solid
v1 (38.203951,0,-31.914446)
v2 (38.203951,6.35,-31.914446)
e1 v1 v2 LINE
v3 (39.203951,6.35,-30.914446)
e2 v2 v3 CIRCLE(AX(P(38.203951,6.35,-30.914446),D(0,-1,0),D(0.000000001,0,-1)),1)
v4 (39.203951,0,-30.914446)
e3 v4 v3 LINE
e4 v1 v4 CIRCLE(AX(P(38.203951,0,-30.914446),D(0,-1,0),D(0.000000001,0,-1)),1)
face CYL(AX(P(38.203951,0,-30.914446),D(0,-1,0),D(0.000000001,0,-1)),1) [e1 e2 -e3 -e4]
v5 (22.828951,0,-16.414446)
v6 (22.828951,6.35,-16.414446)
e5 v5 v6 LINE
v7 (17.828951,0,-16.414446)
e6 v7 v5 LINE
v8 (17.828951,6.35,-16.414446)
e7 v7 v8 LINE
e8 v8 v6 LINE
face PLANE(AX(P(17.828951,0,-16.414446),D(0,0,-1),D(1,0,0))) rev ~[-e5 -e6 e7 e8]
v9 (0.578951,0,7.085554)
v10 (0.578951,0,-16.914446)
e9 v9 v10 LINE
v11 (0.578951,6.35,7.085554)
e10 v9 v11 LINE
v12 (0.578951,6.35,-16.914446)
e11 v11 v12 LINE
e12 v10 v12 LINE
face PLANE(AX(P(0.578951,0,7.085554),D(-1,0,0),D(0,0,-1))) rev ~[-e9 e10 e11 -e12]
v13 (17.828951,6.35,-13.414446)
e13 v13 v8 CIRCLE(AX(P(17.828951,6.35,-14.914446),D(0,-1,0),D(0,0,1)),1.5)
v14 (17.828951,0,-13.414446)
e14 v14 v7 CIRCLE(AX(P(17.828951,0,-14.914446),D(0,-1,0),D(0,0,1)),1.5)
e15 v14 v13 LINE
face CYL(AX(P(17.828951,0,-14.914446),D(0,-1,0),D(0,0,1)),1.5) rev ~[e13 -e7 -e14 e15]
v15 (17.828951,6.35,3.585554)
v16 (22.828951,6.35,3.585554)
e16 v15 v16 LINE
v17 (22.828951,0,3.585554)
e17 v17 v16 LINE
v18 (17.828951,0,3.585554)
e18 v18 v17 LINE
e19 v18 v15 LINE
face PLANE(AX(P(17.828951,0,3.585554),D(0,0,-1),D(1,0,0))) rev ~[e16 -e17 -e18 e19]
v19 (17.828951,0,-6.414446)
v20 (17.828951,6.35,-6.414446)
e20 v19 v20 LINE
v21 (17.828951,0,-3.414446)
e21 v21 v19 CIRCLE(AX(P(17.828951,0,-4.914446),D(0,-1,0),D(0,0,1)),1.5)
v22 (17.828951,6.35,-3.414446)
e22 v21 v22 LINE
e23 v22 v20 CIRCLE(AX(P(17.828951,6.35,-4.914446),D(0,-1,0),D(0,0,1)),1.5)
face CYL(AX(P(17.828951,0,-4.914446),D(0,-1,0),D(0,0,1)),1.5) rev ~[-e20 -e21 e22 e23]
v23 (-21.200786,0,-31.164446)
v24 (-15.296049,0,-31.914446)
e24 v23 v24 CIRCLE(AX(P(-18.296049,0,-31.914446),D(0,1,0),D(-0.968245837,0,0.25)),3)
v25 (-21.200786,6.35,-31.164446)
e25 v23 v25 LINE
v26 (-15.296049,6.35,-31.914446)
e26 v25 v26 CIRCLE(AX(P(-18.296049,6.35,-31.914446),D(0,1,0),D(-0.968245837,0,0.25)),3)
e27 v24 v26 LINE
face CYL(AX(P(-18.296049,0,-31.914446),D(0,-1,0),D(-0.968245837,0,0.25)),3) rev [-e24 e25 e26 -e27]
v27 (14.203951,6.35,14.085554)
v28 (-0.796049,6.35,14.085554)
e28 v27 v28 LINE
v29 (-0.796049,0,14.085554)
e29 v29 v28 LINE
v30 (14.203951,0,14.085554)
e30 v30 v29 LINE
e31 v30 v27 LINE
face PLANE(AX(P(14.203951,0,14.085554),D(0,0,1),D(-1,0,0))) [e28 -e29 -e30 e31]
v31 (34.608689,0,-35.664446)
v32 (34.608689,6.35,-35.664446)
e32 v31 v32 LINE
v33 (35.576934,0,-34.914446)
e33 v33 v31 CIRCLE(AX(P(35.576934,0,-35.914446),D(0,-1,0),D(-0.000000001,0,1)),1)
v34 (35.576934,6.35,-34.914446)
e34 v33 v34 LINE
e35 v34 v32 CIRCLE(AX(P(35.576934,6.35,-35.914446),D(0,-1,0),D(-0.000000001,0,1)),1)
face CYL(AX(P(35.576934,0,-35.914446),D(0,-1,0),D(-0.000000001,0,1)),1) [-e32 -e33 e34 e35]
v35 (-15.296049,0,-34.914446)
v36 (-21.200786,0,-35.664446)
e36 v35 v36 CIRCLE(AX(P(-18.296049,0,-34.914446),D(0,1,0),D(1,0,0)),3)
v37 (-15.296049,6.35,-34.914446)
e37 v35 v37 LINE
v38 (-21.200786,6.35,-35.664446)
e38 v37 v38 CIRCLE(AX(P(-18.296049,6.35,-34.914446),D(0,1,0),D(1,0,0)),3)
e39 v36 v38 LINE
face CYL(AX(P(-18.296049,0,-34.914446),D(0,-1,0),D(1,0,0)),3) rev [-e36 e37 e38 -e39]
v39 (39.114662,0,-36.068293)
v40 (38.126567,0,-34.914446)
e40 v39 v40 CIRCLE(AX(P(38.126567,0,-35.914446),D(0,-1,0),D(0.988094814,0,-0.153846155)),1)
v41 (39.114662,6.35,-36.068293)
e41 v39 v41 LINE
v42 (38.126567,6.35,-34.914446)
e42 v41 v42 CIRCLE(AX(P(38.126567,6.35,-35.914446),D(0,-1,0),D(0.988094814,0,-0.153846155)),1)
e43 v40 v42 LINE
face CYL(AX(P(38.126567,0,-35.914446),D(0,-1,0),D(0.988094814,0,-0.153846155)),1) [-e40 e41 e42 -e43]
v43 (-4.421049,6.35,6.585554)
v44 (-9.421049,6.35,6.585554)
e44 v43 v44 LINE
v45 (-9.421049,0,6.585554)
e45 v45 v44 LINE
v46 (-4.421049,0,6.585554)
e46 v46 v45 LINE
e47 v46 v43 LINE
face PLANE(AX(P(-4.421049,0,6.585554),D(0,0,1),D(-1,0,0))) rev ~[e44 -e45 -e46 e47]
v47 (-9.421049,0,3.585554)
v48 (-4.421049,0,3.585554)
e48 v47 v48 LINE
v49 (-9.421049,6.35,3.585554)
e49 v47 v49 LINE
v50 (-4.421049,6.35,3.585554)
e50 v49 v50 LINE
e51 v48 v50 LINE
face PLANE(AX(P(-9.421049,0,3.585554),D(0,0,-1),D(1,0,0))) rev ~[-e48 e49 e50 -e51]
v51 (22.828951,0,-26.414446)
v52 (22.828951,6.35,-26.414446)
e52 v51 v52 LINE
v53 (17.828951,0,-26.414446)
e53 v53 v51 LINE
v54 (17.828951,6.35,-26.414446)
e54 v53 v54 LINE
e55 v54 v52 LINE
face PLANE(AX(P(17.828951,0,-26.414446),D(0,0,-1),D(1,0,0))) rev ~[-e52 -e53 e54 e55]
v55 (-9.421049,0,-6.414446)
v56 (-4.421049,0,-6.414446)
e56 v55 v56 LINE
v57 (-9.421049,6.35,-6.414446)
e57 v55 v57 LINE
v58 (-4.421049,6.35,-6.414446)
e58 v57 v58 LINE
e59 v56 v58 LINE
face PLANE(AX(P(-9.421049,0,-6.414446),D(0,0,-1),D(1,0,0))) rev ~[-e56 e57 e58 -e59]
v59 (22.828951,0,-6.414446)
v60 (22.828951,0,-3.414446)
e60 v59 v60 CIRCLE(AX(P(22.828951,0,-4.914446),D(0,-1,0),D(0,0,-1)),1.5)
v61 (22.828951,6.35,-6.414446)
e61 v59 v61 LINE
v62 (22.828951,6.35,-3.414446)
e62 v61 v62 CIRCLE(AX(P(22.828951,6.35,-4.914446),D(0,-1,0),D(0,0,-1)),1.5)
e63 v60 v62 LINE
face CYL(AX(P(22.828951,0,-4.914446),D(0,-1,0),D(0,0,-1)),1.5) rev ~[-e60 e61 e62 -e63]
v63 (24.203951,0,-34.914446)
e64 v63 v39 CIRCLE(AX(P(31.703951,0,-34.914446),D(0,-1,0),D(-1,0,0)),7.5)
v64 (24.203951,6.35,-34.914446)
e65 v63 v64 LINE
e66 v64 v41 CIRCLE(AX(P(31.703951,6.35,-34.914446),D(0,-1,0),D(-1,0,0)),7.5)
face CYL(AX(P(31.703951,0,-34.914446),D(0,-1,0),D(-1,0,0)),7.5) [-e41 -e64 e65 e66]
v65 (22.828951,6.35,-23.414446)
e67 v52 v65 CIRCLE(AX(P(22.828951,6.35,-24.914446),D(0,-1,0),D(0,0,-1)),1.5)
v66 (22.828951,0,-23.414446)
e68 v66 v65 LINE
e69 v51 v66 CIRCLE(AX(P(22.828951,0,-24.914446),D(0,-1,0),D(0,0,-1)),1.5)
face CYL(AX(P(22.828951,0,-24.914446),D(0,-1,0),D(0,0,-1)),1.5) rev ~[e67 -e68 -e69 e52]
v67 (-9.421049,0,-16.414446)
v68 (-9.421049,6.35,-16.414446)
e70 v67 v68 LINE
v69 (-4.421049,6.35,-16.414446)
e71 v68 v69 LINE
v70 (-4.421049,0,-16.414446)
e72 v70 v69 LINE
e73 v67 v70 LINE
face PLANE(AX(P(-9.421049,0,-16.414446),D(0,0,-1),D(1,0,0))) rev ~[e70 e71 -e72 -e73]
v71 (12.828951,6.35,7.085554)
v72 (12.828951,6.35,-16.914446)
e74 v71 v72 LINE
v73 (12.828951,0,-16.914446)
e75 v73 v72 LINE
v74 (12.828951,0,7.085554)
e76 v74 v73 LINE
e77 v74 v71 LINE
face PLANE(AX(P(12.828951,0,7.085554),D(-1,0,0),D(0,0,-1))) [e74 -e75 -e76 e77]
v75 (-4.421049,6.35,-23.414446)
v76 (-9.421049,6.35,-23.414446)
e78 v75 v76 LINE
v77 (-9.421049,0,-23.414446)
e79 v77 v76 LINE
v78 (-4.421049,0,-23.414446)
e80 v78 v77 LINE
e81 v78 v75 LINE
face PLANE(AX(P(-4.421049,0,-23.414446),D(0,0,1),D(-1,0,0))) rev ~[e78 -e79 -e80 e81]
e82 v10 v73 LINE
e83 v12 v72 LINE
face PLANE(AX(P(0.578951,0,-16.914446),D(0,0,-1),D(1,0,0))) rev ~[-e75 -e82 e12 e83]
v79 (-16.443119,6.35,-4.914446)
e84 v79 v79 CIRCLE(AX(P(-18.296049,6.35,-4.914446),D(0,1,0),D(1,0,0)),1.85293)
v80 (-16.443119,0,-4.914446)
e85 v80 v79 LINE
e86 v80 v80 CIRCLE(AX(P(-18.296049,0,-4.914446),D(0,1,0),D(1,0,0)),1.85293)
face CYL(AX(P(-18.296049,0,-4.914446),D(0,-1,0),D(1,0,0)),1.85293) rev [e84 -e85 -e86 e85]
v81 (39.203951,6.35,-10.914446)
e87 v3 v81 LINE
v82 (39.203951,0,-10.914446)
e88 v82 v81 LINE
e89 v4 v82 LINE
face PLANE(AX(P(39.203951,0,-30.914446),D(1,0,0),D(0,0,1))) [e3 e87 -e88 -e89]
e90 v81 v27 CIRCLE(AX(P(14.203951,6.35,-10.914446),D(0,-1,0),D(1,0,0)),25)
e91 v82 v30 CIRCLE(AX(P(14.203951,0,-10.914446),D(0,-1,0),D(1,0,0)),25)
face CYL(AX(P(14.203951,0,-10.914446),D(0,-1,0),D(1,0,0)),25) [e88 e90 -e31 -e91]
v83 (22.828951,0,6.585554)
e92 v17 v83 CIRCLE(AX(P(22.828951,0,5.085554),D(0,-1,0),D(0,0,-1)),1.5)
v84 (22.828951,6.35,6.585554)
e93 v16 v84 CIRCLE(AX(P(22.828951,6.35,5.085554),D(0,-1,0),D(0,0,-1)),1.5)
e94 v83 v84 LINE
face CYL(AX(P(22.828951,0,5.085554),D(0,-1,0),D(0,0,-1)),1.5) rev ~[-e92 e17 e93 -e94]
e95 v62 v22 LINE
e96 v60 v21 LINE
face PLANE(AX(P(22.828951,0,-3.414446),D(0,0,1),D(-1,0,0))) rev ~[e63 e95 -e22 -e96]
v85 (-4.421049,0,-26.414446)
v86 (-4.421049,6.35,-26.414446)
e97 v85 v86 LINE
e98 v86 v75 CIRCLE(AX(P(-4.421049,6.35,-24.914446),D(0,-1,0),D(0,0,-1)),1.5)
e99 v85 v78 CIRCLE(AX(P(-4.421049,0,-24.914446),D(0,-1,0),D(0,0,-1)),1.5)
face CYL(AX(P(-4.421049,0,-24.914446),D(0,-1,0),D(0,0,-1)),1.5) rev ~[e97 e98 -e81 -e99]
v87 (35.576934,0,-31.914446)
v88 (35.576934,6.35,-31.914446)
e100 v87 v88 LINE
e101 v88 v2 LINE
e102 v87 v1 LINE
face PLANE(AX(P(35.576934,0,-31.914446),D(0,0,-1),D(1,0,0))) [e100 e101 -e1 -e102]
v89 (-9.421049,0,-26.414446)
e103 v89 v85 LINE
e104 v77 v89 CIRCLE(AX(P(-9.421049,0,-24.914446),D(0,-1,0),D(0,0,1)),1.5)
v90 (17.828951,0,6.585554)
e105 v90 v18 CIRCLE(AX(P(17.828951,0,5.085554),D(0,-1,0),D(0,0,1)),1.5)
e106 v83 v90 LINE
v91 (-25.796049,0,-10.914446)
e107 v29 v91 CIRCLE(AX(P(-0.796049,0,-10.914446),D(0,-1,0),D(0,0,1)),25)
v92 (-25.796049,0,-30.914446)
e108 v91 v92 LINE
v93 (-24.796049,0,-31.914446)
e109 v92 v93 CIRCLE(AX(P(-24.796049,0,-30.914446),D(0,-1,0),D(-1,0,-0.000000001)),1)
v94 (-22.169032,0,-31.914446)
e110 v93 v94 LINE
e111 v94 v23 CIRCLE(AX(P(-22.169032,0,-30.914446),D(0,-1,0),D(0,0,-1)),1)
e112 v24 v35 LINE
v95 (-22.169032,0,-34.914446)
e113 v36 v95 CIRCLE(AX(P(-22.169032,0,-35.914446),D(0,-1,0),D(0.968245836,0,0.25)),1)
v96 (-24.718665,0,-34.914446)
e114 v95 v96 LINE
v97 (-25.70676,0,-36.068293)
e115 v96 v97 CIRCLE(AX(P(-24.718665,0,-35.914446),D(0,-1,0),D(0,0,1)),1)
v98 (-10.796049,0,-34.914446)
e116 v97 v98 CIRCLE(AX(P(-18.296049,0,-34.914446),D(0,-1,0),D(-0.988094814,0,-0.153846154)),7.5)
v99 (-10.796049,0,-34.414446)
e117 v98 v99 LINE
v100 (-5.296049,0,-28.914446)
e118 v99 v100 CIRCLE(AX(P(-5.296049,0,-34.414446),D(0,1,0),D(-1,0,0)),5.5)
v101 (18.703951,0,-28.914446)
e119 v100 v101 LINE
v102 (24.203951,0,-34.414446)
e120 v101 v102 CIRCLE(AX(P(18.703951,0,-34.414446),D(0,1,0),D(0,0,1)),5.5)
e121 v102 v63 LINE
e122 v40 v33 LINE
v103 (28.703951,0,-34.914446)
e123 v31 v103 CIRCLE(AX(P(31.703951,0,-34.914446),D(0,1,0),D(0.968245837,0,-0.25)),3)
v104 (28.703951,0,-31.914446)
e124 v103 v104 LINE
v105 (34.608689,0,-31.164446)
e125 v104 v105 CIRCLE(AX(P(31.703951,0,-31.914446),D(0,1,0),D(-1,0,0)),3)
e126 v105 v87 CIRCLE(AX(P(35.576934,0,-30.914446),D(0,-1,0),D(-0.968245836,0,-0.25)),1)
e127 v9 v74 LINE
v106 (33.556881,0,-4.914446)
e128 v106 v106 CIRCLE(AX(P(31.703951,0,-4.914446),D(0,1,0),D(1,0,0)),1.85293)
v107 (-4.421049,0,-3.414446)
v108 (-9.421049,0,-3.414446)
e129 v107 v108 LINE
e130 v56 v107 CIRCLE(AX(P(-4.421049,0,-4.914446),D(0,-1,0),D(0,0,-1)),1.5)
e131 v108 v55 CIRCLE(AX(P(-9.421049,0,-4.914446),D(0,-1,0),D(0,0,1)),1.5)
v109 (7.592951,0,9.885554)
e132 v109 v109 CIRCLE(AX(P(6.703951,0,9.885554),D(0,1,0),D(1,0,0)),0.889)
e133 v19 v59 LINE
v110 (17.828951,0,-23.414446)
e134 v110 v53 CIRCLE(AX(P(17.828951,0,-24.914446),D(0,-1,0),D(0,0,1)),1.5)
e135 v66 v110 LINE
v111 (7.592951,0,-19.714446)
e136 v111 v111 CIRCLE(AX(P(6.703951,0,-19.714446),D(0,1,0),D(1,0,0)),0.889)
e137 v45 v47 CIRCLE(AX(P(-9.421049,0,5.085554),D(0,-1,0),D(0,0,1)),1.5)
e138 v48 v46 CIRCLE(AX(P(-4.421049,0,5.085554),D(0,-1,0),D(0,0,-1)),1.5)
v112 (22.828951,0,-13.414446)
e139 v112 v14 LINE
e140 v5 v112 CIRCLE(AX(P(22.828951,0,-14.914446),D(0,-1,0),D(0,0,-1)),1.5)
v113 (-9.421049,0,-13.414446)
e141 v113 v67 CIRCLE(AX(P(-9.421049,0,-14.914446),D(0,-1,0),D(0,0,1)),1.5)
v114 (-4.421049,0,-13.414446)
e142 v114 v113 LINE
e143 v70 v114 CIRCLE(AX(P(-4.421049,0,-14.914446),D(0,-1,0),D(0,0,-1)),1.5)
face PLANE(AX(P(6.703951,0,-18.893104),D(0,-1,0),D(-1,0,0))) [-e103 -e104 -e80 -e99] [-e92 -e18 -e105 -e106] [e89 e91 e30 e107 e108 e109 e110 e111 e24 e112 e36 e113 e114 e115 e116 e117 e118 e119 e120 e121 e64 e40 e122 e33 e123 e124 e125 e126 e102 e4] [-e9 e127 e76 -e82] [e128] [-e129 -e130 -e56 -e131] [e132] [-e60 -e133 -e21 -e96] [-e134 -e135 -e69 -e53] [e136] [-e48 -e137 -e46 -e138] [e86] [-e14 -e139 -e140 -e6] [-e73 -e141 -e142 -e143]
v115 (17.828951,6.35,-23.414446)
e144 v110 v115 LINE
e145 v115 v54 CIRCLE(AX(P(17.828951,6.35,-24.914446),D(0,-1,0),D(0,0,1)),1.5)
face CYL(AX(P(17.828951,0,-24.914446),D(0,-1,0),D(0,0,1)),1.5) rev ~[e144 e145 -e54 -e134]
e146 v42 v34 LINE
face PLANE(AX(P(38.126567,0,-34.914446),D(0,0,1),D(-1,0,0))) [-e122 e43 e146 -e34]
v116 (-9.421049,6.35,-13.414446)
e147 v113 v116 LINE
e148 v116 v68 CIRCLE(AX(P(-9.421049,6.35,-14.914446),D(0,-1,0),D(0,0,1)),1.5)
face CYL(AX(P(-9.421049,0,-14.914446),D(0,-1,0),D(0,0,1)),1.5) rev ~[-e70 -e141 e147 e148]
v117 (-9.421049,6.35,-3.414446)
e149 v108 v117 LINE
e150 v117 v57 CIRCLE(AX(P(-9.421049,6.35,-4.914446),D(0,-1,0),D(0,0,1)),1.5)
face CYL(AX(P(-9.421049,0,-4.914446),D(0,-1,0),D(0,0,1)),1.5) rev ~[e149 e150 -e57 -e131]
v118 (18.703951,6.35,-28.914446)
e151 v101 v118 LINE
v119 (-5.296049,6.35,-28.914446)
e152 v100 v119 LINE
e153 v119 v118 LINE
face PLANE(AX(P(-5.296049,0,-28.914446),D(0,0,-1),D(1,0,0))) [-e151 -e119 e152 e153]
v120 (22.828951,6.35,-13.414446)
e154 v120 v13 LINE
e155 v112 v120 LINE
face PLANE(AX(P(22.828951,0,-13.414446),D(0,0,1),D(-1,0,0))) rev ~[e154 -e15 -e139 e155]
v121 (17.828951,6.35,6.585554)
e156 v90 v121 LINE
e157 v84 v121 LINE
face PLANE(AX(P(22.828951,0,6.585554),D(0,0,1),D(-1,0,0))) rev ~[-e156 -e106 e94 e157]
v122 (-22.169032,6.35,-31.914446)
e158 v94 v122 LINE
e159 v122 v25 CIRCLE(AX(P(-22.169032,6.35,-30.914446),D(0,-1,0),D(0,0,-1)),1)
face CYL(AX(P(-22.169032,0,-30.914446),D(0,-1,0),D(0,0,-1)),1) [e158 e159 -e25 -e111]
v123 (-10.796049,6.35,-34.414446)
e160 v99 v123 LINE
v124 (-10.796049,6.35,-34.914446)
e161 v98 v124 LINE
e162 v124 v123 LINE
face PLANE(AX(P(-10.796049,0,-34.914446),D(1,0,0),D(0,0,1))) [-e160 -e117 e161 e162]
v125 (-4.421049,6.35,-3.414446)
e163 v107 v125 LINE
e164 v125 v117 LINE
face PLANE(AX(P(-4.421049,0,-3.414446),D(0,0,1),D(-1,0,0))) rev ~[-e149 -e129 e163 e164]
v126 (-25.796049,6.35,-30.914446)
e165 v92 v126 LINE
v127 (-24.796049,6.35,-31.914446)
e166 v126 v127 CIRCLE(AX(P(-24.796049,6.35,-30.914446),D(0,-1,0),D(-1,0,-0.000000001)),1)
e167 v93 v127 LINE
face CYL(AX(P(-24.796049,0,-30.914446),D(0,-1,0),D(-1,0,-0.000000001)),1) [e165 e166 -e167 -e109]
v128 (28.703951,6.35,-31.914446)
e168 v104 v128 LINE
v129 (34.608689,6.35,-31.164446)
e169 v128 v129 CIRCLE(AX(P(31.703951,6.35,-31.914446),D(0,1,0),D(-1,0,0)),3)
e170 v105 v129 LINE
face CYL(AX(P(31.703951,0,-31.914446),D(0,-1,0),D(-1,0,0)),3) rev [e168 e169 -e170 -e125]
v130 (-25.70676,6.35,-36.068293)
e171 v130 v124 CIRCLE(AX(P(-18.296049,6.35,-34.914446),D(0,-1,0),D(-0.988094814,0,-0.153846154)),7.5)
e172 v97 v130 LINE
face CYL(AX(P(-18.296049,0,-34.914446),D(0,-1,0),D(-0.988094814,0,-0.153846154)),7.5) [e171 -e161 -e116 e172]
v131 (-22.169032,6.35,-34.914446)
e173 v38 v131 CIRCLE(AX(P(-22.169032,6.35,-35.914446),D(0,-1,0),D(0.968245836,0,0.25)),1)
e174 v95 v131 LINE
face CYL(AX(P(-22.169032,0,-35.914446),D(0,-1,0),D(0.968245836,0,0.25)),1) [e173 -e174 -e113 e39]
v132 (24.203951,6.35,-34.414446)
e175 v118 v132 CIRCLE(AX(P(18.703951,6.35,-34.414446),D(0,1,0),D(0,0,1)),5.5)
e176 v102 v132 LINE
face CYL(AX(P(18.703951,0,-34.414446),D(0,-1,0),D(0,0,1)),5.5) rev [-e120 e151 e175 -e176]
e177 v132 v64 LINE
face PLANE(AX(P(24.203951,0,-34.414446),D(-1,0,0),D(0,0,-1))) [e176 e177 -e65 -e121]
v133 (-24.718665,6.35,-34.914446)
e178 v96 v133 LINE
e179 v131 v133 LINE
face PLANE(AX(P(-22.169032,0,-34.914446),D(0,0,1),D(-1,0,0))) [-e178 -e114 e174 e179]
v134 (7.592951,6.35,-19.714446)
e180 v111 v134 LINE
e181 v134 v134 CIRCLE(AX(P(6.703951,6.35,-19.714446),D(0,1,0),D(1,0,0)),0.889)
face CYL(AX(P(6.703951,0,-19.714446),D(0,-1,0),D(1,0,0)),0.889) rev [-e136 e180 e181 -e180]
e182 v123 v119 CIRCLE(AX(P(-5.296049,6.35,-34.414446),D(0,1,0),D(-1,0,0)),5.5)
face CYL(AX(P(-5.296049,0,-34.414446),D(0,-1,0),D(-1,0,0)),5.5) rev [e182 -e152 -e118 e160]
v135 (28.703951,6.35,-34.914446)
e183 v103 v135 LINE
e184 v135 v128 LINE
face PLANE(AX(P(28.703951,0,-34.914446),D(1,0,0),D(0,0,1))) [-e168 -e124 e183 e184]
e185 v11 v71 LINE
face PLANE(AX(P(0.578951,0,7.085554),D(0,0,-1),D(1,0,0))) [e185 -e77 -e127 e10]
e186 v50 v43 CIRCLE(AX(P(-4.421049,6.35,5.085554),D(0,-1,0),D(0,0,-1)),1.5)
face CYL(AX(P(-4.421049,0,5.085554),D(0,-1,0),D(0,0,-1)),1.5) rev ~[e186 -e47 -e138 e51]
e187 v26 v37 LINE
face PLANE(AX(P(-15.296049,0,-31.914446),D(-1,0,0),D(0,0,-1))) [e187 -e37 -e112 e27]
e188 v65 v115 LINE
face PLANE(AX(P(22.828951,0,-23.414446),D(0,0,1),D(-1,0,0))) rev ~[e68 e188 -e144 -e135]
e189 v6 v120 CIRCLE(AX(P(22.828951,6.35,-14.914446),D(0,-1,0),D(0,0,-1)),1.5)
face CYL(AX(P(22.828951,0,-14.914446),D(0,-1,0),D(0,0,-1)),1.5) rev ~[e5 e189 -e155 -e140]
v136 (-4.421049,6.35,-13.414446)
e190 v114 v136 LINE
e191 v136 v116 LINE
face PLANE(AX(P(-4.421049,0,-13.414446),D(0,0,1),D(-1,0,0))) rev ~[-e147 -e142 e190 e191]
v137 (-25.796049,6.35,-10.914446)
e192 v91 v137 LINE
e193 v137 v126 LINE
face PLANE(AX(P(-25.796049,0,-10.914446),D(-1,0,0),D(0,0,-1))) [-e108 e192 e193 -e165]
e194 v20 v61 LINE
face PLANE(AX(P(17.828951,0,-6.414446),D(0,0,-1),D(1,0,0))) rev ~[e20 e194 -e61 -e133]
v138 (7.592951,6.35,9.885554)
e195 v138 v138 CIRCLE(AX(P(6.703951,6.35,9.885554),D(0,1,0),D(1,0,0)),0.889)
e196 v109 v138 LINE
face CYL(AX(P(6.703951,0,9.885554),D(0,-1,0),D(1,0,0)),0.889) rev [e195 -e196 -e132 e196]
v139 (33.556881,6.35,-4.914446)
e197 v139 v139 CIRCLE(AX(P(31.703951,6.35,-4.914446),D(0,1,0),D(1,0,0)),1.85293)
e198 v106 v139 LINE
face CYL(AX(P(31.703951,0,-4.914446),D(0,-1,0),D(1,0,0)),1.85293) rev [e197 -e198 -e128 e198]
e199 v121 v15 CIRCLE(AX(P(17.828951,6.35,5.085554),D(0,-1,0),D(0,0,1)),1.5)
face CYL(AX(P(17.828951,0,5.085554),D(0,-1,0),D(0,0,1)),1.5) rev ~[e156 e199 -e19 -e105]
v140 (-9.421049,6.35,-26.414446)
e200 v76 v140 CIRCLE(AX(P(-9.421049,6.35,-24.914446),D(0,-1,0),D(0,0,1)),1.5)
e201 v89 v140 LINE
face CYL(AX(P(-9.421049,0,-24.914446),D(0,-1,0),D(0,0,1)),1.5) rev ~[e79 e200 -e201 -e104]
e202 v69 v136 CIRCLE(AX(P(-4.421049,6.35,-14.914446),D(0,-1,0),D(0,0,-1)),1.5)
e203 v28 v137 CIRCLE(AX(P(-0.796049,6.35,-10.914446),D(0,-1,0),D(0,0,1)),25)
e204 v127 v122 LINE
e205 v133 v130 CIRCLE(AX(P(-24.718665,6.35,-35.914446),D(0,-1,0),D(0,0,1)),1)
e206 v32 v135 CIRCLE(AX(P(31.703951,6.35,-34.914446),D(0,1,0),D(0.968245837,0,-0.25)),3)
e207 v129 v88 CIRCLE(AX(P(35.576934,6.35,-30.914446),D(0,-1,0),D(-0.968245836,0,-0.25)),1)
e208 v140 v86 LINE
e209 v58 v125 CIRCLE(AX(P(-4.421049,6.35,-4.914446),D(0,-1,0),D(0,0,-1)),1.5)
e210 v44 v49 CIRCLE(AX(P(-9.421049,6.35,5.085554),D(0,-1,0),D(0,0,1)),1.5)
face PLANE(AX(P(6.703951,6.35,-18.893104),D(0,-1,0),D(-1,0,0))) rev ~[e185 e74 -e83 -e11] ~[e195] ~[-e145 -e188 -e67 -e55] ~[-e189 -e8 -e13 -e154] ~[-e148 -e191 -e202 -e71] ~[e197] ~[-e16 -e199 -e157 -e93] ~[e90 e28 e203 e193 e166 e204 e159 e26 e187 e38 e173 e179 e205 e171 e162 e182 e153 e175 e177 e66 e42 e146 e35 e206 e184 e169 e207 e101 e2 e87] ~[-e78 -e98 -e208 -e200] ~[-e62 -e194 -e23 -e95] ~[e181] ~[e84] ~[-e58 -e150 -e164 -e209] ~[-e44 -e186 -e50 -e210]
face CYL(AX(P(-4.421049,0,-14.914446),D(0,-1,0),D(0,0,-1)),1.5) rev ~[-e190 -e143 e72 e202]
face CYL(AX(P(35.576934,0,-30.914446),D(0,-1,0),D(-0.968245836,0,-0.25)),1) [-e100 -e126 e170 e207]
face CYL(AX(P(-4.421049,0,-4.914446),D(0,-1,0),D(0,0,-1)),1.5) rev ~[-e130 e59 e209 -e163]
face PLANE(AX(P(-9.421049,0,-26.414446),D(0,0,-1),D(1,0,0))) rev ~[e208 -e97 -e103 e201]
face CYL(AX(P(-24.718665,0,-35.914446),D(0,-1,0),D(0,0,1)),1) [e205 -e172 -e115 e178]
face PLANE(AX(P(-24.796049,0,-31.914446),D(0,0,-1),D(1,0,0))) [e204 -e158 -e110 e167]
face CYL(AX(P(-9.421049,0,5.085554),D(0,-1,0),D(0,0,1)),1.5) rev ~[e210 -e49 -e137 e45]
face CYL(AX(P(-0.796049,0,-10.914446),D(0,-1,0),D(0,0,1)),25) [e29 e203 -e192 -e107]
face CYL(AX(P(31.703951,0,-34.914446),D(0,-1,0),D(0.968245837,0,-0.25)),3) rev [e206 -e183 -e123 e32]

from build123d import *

# Parameters (mm, degrees)
SKETCH1_R           = 0.889
SKETCH1_R_2         = 1.85293
SKETCH1_W           = 12.25
SKETCH1_H           = 24
BOSS_EXTRUDE1_DEPTH = 6.35


with BuildPart() as part:
    # Sketch1 → Boss-Extrude1 (new body)
    with BuildSketch(Plane(origin=(0, 0, 0), x_dir=(1, 0, 0), z_dir=(0, 1, 0))):
        with BuildLine():
            Line((-25.79604899, 10.914446368), (-25.79604899, 28.914446368))
            Line((-25.79604899, 28.914446368), (-25.79604899, 30.914446368))
            ThreePointArc((-25.79604899, 30.914446368), (-25.503155771, 31.621553149), (-24.79604899, 31.914446368))
            Line((-24.79604899, 31.914446368), (-22.169032336, 31.914446368))
            ThreePointArc((-22.169032336, 31.914446368), (-21.5566599, 31.705015783), (-21.200786499, 31.164446368))
            ThreePointArc((-21.200786499, 31.164446368), (-17.918036112, 28.938357279), (-15.29604899, 31.914446368))
            Line((-15.29604899, 31.914446368), (-15.29604899, 34.914446368))
            ThreePointArc((-15.29604899, 34.914446368), (-17.918036112, 37.890535457), (-21.200786499, 35.664446368))
            ThreePointArc((-21.200786499, 35.664446368), (-21.5566599, 35.123876953), (-22.169032336, 34.914446368))
            Line((-22.169032336, 34.914446368), (-24.718665279, 34.914446368))
            ThreePointArc((-24.718665279, 34.914446368), (-25.478219804, 35.264002732), (-25.706760093, 36.068292522))
            ThreePointArc((-25.706760093, 36.068292522), (-17.717401115, 42.392090826), (-10.79604899, 34.914446368))
            Line((-10.79604899, 34.914446368), (-10.79604899, 34.414446368))
            ThreePointArc((-10.79604899, 34.414446368), (-9.185136286, 30.525359071), (-5.29604899, 28.914446368))
            Line((-5.29604899, 28.914446368), (18.70395101, 28.914446368))
            ThreePointArc((18.70395101, 28.914446368), (22.593038307, 30.525359071), (24.20395101, 34.414446368))
            Line((24.20395101, 34.414446368), (24.20395101, 34.914446368))
            ThreePointArc((24.20395101, 34.914446368), (31.125303135, 42.392090826), (39.114662113, 36.068292522))
            ThreePointArc((39.114662113, 36.068292522), (38.886121825, 35.264002732), (38.126567299, 34.914446368))
            Line((38.126567299, 34.914446368), (35.576934356, 34.914446368))
            ThreePointArc((35.576934356, 34.914446368), (34.964561921, 35.123876953), (34.60868852, 35.664446368))
            ThreePointArc((34.60868852, 35.664446368), (31.325938133, 37.890535457), (28.70395101, 34.914446368))
            Line((28.70395101, 34.914446368), (28.70395101, 31.914446368))
            ThreePointArc((28.70395101, 31.914446368), (31.325938133, 28.938357279), (34.60868852, 31.164446368))
            ThreePointArc((34.60868852, 31.164446368), (34.964561921, 31.705015783), (35.576934356, 31.914446368))
            Line((35.576934356, 31.914446368), (38.20395101, 31.914446368))
            ThreePointArc((38.20395101, 31.914446368), (38.911057791, 31.621553149), (39.20395101, 30.914446368))
            Line((39.20395101, 30.914446368), (39.20395101, 28.914446368))
            Line((39.20395101, 28.914446368), (39.20395101, 10.914446368))
            ThreePointArc((39.20395101, 10.914446368), (31.88162054, -6.763223162), (14.20395101, -14.085553632))
            Line((14.20395101, -14.085553632), (-0.79604899, -14.085553632))
            ThreePointArc((-0.79604899, -14.085553632), (-18.47371852, -6.763223162), (-25.79604899, 10.914446368))
        make_face()
        with Locations((6.70395101, 19.714446368)):
            Circle(SKETCH1_R, mode=Mode.SUBTRACT)
        with Locations((6.70395101, -9.885553632)):
            Circle(SKETCH1_R, mode=Mode.SUBTRACT)
        with Locations((-18.29604899, 4.914446368)):
            Circle(SKETCH1_R_2, mode=Mode.SUBTRACT)
        with Locations((31.70395101, 4.914446368)):
            Circle(SKETCH1_R_2, mode=Mode.SUBTRACT)
        with Locations((6.70395101, 4.914446368)):
            Rectangle(SKETCH1_W, SKETCH1_H, mode=Mode.SUBTRACT)
        with BuildLine():
            Line((-9.42104899, 6.414446368), (-4.42104899, 6.414446368))
            ThreePointArc((-4.42104899, 6.414446368), (-2.92104899, 4.914446368), (-4.42104899, 3.414446368))
            Line((-4.42104899, 3.414446368), (-9.42104899, 3.414446368))
            ThreePointArc((-9.42104899, 3.414446368), (-10.92104899, 4.914446368), (-9.42104899, 6.414446368))
        make_face(mode=Mode.SUBTRACT)
        with BuildLine():
            Line((22.82895101, 3.414446368), (17.82895101, 3.414446368))
            ThreePointArc((17.82895101, 3.414446368), (16.32895101, 4.914446368), (17.82895101, 6.414446368))
            Line((17.82895101, 6.414446368), (22.82895101, 6.414446368))
            ThreePointArc((22.82895101, 6.414446368), (24.32895101, 4.914446368), (22.82895101, 3.414446368))
        make_face(mode=Mode.SUBTRACT)
        with BuildLine():
            Line((-9.42104899, -3.585553632), (-4.42104899, -3.585553632))
            ThreePointArc((-4.42104899, -3.585553632), (-2.92104899, -5.085553632), (-4.42104899, -6.585553632))
            Line((-4.42104899, -6.585553632), (-9.42104899, -6.585553632))
            ThreePointArc((-9.42104899, -6.585553632), (-10.92104899, -5.085553632), (-9.42104899, -3.585553632))
        make_face(mode=Mode.SUBTRACT)
        with BuildLine():
            Line((22.82895101, -6.585553632), (17.82895101, -6.585553632))
            ThreePointArc((17.82895101, -6.585553632), (16.32895101, -5.085553632), (17.82895101, -3.585553632))
            Line((17.82895101, -3.585553632), (22.82895101, -3.585553632))
            ThreePointArc((22.82895101, -3.585553632), (24.32895101, -5.085553632), (22.82895101, -6.585553632))
        make_face(mode=Mode.SUBTRACT)
        with BuildLine():
            Line((-9.42104899, 16.414446368), (-4.42104899, 16.414446368))
            ThreePointArc((-4.42104899, 16.414446368), (-2.92104899, 14.914446368), (-4.42104899, 13.414446368))
            Line((-4.42104899, 13.414446368), (-9.42104899, 13.414446368))
            ThreePointArc((-9.42104899, 13.414446368), (-10.92104899, 14.914446368), (-9.42104899, 16.414446368))
        make_face(mode=Mode.SUBTRACT)
        with BuildLine():
            Line((22.82895101, 13.414446368), (17.82895101, 13.414446368))
            ThreePointArc((17.82895101, 13.414446368), (16.32895101, 14.914446368), (17.82895101, 16.414446368))
            Line((17.82895101, 16.414446368), (22.82895101, 16.414446368))
            ThreePointArc((22.82895101, 16.414446368), (24.32895101, 14.914446368), (22.82895101, 13.414446368))
        make_face(mode=Mode.SUBTRACT)
        with BuildLine():
            Line((-9.42104899, 26.414446368), (-4.42104899, 26.414446368))
            ThreePointArc((-4.42104899, 26.414446368), (-2.92104899, 24.914446368), (-4.42104899, 23.414446368))
            Line((-4.42104899, 23.414446368), (-9.42104899, 23.414446368))
            ThreePointArc((-9.42104899, 23.414446368), (-10.92104899, 24.914446368), (-9.42104899, 26.414446368))
        make_face(mode=Mode.SUBTRACT)
        with BuildLine():
            Line((22.82895101, 23.414446368), (17.82895101, 23.414446368))
            ThreePointArc((17.82895101, 23.414446368), (16.32895101, 24.914446368), (17.82895101, 26.414446368))
            Line((17.82895101, 26.414446368), (22.82895101, 26.414446368))
            ThreePointArc((22.82895101, 26.414446368), (24.32895101, 24.914446368), (22.82895101, 23.414446368))
        make_face(mode=Mode.SUBTRACT)
    extrude(amount=BOSS_EXTRUDE1_DEPTH)


solid = part.part
